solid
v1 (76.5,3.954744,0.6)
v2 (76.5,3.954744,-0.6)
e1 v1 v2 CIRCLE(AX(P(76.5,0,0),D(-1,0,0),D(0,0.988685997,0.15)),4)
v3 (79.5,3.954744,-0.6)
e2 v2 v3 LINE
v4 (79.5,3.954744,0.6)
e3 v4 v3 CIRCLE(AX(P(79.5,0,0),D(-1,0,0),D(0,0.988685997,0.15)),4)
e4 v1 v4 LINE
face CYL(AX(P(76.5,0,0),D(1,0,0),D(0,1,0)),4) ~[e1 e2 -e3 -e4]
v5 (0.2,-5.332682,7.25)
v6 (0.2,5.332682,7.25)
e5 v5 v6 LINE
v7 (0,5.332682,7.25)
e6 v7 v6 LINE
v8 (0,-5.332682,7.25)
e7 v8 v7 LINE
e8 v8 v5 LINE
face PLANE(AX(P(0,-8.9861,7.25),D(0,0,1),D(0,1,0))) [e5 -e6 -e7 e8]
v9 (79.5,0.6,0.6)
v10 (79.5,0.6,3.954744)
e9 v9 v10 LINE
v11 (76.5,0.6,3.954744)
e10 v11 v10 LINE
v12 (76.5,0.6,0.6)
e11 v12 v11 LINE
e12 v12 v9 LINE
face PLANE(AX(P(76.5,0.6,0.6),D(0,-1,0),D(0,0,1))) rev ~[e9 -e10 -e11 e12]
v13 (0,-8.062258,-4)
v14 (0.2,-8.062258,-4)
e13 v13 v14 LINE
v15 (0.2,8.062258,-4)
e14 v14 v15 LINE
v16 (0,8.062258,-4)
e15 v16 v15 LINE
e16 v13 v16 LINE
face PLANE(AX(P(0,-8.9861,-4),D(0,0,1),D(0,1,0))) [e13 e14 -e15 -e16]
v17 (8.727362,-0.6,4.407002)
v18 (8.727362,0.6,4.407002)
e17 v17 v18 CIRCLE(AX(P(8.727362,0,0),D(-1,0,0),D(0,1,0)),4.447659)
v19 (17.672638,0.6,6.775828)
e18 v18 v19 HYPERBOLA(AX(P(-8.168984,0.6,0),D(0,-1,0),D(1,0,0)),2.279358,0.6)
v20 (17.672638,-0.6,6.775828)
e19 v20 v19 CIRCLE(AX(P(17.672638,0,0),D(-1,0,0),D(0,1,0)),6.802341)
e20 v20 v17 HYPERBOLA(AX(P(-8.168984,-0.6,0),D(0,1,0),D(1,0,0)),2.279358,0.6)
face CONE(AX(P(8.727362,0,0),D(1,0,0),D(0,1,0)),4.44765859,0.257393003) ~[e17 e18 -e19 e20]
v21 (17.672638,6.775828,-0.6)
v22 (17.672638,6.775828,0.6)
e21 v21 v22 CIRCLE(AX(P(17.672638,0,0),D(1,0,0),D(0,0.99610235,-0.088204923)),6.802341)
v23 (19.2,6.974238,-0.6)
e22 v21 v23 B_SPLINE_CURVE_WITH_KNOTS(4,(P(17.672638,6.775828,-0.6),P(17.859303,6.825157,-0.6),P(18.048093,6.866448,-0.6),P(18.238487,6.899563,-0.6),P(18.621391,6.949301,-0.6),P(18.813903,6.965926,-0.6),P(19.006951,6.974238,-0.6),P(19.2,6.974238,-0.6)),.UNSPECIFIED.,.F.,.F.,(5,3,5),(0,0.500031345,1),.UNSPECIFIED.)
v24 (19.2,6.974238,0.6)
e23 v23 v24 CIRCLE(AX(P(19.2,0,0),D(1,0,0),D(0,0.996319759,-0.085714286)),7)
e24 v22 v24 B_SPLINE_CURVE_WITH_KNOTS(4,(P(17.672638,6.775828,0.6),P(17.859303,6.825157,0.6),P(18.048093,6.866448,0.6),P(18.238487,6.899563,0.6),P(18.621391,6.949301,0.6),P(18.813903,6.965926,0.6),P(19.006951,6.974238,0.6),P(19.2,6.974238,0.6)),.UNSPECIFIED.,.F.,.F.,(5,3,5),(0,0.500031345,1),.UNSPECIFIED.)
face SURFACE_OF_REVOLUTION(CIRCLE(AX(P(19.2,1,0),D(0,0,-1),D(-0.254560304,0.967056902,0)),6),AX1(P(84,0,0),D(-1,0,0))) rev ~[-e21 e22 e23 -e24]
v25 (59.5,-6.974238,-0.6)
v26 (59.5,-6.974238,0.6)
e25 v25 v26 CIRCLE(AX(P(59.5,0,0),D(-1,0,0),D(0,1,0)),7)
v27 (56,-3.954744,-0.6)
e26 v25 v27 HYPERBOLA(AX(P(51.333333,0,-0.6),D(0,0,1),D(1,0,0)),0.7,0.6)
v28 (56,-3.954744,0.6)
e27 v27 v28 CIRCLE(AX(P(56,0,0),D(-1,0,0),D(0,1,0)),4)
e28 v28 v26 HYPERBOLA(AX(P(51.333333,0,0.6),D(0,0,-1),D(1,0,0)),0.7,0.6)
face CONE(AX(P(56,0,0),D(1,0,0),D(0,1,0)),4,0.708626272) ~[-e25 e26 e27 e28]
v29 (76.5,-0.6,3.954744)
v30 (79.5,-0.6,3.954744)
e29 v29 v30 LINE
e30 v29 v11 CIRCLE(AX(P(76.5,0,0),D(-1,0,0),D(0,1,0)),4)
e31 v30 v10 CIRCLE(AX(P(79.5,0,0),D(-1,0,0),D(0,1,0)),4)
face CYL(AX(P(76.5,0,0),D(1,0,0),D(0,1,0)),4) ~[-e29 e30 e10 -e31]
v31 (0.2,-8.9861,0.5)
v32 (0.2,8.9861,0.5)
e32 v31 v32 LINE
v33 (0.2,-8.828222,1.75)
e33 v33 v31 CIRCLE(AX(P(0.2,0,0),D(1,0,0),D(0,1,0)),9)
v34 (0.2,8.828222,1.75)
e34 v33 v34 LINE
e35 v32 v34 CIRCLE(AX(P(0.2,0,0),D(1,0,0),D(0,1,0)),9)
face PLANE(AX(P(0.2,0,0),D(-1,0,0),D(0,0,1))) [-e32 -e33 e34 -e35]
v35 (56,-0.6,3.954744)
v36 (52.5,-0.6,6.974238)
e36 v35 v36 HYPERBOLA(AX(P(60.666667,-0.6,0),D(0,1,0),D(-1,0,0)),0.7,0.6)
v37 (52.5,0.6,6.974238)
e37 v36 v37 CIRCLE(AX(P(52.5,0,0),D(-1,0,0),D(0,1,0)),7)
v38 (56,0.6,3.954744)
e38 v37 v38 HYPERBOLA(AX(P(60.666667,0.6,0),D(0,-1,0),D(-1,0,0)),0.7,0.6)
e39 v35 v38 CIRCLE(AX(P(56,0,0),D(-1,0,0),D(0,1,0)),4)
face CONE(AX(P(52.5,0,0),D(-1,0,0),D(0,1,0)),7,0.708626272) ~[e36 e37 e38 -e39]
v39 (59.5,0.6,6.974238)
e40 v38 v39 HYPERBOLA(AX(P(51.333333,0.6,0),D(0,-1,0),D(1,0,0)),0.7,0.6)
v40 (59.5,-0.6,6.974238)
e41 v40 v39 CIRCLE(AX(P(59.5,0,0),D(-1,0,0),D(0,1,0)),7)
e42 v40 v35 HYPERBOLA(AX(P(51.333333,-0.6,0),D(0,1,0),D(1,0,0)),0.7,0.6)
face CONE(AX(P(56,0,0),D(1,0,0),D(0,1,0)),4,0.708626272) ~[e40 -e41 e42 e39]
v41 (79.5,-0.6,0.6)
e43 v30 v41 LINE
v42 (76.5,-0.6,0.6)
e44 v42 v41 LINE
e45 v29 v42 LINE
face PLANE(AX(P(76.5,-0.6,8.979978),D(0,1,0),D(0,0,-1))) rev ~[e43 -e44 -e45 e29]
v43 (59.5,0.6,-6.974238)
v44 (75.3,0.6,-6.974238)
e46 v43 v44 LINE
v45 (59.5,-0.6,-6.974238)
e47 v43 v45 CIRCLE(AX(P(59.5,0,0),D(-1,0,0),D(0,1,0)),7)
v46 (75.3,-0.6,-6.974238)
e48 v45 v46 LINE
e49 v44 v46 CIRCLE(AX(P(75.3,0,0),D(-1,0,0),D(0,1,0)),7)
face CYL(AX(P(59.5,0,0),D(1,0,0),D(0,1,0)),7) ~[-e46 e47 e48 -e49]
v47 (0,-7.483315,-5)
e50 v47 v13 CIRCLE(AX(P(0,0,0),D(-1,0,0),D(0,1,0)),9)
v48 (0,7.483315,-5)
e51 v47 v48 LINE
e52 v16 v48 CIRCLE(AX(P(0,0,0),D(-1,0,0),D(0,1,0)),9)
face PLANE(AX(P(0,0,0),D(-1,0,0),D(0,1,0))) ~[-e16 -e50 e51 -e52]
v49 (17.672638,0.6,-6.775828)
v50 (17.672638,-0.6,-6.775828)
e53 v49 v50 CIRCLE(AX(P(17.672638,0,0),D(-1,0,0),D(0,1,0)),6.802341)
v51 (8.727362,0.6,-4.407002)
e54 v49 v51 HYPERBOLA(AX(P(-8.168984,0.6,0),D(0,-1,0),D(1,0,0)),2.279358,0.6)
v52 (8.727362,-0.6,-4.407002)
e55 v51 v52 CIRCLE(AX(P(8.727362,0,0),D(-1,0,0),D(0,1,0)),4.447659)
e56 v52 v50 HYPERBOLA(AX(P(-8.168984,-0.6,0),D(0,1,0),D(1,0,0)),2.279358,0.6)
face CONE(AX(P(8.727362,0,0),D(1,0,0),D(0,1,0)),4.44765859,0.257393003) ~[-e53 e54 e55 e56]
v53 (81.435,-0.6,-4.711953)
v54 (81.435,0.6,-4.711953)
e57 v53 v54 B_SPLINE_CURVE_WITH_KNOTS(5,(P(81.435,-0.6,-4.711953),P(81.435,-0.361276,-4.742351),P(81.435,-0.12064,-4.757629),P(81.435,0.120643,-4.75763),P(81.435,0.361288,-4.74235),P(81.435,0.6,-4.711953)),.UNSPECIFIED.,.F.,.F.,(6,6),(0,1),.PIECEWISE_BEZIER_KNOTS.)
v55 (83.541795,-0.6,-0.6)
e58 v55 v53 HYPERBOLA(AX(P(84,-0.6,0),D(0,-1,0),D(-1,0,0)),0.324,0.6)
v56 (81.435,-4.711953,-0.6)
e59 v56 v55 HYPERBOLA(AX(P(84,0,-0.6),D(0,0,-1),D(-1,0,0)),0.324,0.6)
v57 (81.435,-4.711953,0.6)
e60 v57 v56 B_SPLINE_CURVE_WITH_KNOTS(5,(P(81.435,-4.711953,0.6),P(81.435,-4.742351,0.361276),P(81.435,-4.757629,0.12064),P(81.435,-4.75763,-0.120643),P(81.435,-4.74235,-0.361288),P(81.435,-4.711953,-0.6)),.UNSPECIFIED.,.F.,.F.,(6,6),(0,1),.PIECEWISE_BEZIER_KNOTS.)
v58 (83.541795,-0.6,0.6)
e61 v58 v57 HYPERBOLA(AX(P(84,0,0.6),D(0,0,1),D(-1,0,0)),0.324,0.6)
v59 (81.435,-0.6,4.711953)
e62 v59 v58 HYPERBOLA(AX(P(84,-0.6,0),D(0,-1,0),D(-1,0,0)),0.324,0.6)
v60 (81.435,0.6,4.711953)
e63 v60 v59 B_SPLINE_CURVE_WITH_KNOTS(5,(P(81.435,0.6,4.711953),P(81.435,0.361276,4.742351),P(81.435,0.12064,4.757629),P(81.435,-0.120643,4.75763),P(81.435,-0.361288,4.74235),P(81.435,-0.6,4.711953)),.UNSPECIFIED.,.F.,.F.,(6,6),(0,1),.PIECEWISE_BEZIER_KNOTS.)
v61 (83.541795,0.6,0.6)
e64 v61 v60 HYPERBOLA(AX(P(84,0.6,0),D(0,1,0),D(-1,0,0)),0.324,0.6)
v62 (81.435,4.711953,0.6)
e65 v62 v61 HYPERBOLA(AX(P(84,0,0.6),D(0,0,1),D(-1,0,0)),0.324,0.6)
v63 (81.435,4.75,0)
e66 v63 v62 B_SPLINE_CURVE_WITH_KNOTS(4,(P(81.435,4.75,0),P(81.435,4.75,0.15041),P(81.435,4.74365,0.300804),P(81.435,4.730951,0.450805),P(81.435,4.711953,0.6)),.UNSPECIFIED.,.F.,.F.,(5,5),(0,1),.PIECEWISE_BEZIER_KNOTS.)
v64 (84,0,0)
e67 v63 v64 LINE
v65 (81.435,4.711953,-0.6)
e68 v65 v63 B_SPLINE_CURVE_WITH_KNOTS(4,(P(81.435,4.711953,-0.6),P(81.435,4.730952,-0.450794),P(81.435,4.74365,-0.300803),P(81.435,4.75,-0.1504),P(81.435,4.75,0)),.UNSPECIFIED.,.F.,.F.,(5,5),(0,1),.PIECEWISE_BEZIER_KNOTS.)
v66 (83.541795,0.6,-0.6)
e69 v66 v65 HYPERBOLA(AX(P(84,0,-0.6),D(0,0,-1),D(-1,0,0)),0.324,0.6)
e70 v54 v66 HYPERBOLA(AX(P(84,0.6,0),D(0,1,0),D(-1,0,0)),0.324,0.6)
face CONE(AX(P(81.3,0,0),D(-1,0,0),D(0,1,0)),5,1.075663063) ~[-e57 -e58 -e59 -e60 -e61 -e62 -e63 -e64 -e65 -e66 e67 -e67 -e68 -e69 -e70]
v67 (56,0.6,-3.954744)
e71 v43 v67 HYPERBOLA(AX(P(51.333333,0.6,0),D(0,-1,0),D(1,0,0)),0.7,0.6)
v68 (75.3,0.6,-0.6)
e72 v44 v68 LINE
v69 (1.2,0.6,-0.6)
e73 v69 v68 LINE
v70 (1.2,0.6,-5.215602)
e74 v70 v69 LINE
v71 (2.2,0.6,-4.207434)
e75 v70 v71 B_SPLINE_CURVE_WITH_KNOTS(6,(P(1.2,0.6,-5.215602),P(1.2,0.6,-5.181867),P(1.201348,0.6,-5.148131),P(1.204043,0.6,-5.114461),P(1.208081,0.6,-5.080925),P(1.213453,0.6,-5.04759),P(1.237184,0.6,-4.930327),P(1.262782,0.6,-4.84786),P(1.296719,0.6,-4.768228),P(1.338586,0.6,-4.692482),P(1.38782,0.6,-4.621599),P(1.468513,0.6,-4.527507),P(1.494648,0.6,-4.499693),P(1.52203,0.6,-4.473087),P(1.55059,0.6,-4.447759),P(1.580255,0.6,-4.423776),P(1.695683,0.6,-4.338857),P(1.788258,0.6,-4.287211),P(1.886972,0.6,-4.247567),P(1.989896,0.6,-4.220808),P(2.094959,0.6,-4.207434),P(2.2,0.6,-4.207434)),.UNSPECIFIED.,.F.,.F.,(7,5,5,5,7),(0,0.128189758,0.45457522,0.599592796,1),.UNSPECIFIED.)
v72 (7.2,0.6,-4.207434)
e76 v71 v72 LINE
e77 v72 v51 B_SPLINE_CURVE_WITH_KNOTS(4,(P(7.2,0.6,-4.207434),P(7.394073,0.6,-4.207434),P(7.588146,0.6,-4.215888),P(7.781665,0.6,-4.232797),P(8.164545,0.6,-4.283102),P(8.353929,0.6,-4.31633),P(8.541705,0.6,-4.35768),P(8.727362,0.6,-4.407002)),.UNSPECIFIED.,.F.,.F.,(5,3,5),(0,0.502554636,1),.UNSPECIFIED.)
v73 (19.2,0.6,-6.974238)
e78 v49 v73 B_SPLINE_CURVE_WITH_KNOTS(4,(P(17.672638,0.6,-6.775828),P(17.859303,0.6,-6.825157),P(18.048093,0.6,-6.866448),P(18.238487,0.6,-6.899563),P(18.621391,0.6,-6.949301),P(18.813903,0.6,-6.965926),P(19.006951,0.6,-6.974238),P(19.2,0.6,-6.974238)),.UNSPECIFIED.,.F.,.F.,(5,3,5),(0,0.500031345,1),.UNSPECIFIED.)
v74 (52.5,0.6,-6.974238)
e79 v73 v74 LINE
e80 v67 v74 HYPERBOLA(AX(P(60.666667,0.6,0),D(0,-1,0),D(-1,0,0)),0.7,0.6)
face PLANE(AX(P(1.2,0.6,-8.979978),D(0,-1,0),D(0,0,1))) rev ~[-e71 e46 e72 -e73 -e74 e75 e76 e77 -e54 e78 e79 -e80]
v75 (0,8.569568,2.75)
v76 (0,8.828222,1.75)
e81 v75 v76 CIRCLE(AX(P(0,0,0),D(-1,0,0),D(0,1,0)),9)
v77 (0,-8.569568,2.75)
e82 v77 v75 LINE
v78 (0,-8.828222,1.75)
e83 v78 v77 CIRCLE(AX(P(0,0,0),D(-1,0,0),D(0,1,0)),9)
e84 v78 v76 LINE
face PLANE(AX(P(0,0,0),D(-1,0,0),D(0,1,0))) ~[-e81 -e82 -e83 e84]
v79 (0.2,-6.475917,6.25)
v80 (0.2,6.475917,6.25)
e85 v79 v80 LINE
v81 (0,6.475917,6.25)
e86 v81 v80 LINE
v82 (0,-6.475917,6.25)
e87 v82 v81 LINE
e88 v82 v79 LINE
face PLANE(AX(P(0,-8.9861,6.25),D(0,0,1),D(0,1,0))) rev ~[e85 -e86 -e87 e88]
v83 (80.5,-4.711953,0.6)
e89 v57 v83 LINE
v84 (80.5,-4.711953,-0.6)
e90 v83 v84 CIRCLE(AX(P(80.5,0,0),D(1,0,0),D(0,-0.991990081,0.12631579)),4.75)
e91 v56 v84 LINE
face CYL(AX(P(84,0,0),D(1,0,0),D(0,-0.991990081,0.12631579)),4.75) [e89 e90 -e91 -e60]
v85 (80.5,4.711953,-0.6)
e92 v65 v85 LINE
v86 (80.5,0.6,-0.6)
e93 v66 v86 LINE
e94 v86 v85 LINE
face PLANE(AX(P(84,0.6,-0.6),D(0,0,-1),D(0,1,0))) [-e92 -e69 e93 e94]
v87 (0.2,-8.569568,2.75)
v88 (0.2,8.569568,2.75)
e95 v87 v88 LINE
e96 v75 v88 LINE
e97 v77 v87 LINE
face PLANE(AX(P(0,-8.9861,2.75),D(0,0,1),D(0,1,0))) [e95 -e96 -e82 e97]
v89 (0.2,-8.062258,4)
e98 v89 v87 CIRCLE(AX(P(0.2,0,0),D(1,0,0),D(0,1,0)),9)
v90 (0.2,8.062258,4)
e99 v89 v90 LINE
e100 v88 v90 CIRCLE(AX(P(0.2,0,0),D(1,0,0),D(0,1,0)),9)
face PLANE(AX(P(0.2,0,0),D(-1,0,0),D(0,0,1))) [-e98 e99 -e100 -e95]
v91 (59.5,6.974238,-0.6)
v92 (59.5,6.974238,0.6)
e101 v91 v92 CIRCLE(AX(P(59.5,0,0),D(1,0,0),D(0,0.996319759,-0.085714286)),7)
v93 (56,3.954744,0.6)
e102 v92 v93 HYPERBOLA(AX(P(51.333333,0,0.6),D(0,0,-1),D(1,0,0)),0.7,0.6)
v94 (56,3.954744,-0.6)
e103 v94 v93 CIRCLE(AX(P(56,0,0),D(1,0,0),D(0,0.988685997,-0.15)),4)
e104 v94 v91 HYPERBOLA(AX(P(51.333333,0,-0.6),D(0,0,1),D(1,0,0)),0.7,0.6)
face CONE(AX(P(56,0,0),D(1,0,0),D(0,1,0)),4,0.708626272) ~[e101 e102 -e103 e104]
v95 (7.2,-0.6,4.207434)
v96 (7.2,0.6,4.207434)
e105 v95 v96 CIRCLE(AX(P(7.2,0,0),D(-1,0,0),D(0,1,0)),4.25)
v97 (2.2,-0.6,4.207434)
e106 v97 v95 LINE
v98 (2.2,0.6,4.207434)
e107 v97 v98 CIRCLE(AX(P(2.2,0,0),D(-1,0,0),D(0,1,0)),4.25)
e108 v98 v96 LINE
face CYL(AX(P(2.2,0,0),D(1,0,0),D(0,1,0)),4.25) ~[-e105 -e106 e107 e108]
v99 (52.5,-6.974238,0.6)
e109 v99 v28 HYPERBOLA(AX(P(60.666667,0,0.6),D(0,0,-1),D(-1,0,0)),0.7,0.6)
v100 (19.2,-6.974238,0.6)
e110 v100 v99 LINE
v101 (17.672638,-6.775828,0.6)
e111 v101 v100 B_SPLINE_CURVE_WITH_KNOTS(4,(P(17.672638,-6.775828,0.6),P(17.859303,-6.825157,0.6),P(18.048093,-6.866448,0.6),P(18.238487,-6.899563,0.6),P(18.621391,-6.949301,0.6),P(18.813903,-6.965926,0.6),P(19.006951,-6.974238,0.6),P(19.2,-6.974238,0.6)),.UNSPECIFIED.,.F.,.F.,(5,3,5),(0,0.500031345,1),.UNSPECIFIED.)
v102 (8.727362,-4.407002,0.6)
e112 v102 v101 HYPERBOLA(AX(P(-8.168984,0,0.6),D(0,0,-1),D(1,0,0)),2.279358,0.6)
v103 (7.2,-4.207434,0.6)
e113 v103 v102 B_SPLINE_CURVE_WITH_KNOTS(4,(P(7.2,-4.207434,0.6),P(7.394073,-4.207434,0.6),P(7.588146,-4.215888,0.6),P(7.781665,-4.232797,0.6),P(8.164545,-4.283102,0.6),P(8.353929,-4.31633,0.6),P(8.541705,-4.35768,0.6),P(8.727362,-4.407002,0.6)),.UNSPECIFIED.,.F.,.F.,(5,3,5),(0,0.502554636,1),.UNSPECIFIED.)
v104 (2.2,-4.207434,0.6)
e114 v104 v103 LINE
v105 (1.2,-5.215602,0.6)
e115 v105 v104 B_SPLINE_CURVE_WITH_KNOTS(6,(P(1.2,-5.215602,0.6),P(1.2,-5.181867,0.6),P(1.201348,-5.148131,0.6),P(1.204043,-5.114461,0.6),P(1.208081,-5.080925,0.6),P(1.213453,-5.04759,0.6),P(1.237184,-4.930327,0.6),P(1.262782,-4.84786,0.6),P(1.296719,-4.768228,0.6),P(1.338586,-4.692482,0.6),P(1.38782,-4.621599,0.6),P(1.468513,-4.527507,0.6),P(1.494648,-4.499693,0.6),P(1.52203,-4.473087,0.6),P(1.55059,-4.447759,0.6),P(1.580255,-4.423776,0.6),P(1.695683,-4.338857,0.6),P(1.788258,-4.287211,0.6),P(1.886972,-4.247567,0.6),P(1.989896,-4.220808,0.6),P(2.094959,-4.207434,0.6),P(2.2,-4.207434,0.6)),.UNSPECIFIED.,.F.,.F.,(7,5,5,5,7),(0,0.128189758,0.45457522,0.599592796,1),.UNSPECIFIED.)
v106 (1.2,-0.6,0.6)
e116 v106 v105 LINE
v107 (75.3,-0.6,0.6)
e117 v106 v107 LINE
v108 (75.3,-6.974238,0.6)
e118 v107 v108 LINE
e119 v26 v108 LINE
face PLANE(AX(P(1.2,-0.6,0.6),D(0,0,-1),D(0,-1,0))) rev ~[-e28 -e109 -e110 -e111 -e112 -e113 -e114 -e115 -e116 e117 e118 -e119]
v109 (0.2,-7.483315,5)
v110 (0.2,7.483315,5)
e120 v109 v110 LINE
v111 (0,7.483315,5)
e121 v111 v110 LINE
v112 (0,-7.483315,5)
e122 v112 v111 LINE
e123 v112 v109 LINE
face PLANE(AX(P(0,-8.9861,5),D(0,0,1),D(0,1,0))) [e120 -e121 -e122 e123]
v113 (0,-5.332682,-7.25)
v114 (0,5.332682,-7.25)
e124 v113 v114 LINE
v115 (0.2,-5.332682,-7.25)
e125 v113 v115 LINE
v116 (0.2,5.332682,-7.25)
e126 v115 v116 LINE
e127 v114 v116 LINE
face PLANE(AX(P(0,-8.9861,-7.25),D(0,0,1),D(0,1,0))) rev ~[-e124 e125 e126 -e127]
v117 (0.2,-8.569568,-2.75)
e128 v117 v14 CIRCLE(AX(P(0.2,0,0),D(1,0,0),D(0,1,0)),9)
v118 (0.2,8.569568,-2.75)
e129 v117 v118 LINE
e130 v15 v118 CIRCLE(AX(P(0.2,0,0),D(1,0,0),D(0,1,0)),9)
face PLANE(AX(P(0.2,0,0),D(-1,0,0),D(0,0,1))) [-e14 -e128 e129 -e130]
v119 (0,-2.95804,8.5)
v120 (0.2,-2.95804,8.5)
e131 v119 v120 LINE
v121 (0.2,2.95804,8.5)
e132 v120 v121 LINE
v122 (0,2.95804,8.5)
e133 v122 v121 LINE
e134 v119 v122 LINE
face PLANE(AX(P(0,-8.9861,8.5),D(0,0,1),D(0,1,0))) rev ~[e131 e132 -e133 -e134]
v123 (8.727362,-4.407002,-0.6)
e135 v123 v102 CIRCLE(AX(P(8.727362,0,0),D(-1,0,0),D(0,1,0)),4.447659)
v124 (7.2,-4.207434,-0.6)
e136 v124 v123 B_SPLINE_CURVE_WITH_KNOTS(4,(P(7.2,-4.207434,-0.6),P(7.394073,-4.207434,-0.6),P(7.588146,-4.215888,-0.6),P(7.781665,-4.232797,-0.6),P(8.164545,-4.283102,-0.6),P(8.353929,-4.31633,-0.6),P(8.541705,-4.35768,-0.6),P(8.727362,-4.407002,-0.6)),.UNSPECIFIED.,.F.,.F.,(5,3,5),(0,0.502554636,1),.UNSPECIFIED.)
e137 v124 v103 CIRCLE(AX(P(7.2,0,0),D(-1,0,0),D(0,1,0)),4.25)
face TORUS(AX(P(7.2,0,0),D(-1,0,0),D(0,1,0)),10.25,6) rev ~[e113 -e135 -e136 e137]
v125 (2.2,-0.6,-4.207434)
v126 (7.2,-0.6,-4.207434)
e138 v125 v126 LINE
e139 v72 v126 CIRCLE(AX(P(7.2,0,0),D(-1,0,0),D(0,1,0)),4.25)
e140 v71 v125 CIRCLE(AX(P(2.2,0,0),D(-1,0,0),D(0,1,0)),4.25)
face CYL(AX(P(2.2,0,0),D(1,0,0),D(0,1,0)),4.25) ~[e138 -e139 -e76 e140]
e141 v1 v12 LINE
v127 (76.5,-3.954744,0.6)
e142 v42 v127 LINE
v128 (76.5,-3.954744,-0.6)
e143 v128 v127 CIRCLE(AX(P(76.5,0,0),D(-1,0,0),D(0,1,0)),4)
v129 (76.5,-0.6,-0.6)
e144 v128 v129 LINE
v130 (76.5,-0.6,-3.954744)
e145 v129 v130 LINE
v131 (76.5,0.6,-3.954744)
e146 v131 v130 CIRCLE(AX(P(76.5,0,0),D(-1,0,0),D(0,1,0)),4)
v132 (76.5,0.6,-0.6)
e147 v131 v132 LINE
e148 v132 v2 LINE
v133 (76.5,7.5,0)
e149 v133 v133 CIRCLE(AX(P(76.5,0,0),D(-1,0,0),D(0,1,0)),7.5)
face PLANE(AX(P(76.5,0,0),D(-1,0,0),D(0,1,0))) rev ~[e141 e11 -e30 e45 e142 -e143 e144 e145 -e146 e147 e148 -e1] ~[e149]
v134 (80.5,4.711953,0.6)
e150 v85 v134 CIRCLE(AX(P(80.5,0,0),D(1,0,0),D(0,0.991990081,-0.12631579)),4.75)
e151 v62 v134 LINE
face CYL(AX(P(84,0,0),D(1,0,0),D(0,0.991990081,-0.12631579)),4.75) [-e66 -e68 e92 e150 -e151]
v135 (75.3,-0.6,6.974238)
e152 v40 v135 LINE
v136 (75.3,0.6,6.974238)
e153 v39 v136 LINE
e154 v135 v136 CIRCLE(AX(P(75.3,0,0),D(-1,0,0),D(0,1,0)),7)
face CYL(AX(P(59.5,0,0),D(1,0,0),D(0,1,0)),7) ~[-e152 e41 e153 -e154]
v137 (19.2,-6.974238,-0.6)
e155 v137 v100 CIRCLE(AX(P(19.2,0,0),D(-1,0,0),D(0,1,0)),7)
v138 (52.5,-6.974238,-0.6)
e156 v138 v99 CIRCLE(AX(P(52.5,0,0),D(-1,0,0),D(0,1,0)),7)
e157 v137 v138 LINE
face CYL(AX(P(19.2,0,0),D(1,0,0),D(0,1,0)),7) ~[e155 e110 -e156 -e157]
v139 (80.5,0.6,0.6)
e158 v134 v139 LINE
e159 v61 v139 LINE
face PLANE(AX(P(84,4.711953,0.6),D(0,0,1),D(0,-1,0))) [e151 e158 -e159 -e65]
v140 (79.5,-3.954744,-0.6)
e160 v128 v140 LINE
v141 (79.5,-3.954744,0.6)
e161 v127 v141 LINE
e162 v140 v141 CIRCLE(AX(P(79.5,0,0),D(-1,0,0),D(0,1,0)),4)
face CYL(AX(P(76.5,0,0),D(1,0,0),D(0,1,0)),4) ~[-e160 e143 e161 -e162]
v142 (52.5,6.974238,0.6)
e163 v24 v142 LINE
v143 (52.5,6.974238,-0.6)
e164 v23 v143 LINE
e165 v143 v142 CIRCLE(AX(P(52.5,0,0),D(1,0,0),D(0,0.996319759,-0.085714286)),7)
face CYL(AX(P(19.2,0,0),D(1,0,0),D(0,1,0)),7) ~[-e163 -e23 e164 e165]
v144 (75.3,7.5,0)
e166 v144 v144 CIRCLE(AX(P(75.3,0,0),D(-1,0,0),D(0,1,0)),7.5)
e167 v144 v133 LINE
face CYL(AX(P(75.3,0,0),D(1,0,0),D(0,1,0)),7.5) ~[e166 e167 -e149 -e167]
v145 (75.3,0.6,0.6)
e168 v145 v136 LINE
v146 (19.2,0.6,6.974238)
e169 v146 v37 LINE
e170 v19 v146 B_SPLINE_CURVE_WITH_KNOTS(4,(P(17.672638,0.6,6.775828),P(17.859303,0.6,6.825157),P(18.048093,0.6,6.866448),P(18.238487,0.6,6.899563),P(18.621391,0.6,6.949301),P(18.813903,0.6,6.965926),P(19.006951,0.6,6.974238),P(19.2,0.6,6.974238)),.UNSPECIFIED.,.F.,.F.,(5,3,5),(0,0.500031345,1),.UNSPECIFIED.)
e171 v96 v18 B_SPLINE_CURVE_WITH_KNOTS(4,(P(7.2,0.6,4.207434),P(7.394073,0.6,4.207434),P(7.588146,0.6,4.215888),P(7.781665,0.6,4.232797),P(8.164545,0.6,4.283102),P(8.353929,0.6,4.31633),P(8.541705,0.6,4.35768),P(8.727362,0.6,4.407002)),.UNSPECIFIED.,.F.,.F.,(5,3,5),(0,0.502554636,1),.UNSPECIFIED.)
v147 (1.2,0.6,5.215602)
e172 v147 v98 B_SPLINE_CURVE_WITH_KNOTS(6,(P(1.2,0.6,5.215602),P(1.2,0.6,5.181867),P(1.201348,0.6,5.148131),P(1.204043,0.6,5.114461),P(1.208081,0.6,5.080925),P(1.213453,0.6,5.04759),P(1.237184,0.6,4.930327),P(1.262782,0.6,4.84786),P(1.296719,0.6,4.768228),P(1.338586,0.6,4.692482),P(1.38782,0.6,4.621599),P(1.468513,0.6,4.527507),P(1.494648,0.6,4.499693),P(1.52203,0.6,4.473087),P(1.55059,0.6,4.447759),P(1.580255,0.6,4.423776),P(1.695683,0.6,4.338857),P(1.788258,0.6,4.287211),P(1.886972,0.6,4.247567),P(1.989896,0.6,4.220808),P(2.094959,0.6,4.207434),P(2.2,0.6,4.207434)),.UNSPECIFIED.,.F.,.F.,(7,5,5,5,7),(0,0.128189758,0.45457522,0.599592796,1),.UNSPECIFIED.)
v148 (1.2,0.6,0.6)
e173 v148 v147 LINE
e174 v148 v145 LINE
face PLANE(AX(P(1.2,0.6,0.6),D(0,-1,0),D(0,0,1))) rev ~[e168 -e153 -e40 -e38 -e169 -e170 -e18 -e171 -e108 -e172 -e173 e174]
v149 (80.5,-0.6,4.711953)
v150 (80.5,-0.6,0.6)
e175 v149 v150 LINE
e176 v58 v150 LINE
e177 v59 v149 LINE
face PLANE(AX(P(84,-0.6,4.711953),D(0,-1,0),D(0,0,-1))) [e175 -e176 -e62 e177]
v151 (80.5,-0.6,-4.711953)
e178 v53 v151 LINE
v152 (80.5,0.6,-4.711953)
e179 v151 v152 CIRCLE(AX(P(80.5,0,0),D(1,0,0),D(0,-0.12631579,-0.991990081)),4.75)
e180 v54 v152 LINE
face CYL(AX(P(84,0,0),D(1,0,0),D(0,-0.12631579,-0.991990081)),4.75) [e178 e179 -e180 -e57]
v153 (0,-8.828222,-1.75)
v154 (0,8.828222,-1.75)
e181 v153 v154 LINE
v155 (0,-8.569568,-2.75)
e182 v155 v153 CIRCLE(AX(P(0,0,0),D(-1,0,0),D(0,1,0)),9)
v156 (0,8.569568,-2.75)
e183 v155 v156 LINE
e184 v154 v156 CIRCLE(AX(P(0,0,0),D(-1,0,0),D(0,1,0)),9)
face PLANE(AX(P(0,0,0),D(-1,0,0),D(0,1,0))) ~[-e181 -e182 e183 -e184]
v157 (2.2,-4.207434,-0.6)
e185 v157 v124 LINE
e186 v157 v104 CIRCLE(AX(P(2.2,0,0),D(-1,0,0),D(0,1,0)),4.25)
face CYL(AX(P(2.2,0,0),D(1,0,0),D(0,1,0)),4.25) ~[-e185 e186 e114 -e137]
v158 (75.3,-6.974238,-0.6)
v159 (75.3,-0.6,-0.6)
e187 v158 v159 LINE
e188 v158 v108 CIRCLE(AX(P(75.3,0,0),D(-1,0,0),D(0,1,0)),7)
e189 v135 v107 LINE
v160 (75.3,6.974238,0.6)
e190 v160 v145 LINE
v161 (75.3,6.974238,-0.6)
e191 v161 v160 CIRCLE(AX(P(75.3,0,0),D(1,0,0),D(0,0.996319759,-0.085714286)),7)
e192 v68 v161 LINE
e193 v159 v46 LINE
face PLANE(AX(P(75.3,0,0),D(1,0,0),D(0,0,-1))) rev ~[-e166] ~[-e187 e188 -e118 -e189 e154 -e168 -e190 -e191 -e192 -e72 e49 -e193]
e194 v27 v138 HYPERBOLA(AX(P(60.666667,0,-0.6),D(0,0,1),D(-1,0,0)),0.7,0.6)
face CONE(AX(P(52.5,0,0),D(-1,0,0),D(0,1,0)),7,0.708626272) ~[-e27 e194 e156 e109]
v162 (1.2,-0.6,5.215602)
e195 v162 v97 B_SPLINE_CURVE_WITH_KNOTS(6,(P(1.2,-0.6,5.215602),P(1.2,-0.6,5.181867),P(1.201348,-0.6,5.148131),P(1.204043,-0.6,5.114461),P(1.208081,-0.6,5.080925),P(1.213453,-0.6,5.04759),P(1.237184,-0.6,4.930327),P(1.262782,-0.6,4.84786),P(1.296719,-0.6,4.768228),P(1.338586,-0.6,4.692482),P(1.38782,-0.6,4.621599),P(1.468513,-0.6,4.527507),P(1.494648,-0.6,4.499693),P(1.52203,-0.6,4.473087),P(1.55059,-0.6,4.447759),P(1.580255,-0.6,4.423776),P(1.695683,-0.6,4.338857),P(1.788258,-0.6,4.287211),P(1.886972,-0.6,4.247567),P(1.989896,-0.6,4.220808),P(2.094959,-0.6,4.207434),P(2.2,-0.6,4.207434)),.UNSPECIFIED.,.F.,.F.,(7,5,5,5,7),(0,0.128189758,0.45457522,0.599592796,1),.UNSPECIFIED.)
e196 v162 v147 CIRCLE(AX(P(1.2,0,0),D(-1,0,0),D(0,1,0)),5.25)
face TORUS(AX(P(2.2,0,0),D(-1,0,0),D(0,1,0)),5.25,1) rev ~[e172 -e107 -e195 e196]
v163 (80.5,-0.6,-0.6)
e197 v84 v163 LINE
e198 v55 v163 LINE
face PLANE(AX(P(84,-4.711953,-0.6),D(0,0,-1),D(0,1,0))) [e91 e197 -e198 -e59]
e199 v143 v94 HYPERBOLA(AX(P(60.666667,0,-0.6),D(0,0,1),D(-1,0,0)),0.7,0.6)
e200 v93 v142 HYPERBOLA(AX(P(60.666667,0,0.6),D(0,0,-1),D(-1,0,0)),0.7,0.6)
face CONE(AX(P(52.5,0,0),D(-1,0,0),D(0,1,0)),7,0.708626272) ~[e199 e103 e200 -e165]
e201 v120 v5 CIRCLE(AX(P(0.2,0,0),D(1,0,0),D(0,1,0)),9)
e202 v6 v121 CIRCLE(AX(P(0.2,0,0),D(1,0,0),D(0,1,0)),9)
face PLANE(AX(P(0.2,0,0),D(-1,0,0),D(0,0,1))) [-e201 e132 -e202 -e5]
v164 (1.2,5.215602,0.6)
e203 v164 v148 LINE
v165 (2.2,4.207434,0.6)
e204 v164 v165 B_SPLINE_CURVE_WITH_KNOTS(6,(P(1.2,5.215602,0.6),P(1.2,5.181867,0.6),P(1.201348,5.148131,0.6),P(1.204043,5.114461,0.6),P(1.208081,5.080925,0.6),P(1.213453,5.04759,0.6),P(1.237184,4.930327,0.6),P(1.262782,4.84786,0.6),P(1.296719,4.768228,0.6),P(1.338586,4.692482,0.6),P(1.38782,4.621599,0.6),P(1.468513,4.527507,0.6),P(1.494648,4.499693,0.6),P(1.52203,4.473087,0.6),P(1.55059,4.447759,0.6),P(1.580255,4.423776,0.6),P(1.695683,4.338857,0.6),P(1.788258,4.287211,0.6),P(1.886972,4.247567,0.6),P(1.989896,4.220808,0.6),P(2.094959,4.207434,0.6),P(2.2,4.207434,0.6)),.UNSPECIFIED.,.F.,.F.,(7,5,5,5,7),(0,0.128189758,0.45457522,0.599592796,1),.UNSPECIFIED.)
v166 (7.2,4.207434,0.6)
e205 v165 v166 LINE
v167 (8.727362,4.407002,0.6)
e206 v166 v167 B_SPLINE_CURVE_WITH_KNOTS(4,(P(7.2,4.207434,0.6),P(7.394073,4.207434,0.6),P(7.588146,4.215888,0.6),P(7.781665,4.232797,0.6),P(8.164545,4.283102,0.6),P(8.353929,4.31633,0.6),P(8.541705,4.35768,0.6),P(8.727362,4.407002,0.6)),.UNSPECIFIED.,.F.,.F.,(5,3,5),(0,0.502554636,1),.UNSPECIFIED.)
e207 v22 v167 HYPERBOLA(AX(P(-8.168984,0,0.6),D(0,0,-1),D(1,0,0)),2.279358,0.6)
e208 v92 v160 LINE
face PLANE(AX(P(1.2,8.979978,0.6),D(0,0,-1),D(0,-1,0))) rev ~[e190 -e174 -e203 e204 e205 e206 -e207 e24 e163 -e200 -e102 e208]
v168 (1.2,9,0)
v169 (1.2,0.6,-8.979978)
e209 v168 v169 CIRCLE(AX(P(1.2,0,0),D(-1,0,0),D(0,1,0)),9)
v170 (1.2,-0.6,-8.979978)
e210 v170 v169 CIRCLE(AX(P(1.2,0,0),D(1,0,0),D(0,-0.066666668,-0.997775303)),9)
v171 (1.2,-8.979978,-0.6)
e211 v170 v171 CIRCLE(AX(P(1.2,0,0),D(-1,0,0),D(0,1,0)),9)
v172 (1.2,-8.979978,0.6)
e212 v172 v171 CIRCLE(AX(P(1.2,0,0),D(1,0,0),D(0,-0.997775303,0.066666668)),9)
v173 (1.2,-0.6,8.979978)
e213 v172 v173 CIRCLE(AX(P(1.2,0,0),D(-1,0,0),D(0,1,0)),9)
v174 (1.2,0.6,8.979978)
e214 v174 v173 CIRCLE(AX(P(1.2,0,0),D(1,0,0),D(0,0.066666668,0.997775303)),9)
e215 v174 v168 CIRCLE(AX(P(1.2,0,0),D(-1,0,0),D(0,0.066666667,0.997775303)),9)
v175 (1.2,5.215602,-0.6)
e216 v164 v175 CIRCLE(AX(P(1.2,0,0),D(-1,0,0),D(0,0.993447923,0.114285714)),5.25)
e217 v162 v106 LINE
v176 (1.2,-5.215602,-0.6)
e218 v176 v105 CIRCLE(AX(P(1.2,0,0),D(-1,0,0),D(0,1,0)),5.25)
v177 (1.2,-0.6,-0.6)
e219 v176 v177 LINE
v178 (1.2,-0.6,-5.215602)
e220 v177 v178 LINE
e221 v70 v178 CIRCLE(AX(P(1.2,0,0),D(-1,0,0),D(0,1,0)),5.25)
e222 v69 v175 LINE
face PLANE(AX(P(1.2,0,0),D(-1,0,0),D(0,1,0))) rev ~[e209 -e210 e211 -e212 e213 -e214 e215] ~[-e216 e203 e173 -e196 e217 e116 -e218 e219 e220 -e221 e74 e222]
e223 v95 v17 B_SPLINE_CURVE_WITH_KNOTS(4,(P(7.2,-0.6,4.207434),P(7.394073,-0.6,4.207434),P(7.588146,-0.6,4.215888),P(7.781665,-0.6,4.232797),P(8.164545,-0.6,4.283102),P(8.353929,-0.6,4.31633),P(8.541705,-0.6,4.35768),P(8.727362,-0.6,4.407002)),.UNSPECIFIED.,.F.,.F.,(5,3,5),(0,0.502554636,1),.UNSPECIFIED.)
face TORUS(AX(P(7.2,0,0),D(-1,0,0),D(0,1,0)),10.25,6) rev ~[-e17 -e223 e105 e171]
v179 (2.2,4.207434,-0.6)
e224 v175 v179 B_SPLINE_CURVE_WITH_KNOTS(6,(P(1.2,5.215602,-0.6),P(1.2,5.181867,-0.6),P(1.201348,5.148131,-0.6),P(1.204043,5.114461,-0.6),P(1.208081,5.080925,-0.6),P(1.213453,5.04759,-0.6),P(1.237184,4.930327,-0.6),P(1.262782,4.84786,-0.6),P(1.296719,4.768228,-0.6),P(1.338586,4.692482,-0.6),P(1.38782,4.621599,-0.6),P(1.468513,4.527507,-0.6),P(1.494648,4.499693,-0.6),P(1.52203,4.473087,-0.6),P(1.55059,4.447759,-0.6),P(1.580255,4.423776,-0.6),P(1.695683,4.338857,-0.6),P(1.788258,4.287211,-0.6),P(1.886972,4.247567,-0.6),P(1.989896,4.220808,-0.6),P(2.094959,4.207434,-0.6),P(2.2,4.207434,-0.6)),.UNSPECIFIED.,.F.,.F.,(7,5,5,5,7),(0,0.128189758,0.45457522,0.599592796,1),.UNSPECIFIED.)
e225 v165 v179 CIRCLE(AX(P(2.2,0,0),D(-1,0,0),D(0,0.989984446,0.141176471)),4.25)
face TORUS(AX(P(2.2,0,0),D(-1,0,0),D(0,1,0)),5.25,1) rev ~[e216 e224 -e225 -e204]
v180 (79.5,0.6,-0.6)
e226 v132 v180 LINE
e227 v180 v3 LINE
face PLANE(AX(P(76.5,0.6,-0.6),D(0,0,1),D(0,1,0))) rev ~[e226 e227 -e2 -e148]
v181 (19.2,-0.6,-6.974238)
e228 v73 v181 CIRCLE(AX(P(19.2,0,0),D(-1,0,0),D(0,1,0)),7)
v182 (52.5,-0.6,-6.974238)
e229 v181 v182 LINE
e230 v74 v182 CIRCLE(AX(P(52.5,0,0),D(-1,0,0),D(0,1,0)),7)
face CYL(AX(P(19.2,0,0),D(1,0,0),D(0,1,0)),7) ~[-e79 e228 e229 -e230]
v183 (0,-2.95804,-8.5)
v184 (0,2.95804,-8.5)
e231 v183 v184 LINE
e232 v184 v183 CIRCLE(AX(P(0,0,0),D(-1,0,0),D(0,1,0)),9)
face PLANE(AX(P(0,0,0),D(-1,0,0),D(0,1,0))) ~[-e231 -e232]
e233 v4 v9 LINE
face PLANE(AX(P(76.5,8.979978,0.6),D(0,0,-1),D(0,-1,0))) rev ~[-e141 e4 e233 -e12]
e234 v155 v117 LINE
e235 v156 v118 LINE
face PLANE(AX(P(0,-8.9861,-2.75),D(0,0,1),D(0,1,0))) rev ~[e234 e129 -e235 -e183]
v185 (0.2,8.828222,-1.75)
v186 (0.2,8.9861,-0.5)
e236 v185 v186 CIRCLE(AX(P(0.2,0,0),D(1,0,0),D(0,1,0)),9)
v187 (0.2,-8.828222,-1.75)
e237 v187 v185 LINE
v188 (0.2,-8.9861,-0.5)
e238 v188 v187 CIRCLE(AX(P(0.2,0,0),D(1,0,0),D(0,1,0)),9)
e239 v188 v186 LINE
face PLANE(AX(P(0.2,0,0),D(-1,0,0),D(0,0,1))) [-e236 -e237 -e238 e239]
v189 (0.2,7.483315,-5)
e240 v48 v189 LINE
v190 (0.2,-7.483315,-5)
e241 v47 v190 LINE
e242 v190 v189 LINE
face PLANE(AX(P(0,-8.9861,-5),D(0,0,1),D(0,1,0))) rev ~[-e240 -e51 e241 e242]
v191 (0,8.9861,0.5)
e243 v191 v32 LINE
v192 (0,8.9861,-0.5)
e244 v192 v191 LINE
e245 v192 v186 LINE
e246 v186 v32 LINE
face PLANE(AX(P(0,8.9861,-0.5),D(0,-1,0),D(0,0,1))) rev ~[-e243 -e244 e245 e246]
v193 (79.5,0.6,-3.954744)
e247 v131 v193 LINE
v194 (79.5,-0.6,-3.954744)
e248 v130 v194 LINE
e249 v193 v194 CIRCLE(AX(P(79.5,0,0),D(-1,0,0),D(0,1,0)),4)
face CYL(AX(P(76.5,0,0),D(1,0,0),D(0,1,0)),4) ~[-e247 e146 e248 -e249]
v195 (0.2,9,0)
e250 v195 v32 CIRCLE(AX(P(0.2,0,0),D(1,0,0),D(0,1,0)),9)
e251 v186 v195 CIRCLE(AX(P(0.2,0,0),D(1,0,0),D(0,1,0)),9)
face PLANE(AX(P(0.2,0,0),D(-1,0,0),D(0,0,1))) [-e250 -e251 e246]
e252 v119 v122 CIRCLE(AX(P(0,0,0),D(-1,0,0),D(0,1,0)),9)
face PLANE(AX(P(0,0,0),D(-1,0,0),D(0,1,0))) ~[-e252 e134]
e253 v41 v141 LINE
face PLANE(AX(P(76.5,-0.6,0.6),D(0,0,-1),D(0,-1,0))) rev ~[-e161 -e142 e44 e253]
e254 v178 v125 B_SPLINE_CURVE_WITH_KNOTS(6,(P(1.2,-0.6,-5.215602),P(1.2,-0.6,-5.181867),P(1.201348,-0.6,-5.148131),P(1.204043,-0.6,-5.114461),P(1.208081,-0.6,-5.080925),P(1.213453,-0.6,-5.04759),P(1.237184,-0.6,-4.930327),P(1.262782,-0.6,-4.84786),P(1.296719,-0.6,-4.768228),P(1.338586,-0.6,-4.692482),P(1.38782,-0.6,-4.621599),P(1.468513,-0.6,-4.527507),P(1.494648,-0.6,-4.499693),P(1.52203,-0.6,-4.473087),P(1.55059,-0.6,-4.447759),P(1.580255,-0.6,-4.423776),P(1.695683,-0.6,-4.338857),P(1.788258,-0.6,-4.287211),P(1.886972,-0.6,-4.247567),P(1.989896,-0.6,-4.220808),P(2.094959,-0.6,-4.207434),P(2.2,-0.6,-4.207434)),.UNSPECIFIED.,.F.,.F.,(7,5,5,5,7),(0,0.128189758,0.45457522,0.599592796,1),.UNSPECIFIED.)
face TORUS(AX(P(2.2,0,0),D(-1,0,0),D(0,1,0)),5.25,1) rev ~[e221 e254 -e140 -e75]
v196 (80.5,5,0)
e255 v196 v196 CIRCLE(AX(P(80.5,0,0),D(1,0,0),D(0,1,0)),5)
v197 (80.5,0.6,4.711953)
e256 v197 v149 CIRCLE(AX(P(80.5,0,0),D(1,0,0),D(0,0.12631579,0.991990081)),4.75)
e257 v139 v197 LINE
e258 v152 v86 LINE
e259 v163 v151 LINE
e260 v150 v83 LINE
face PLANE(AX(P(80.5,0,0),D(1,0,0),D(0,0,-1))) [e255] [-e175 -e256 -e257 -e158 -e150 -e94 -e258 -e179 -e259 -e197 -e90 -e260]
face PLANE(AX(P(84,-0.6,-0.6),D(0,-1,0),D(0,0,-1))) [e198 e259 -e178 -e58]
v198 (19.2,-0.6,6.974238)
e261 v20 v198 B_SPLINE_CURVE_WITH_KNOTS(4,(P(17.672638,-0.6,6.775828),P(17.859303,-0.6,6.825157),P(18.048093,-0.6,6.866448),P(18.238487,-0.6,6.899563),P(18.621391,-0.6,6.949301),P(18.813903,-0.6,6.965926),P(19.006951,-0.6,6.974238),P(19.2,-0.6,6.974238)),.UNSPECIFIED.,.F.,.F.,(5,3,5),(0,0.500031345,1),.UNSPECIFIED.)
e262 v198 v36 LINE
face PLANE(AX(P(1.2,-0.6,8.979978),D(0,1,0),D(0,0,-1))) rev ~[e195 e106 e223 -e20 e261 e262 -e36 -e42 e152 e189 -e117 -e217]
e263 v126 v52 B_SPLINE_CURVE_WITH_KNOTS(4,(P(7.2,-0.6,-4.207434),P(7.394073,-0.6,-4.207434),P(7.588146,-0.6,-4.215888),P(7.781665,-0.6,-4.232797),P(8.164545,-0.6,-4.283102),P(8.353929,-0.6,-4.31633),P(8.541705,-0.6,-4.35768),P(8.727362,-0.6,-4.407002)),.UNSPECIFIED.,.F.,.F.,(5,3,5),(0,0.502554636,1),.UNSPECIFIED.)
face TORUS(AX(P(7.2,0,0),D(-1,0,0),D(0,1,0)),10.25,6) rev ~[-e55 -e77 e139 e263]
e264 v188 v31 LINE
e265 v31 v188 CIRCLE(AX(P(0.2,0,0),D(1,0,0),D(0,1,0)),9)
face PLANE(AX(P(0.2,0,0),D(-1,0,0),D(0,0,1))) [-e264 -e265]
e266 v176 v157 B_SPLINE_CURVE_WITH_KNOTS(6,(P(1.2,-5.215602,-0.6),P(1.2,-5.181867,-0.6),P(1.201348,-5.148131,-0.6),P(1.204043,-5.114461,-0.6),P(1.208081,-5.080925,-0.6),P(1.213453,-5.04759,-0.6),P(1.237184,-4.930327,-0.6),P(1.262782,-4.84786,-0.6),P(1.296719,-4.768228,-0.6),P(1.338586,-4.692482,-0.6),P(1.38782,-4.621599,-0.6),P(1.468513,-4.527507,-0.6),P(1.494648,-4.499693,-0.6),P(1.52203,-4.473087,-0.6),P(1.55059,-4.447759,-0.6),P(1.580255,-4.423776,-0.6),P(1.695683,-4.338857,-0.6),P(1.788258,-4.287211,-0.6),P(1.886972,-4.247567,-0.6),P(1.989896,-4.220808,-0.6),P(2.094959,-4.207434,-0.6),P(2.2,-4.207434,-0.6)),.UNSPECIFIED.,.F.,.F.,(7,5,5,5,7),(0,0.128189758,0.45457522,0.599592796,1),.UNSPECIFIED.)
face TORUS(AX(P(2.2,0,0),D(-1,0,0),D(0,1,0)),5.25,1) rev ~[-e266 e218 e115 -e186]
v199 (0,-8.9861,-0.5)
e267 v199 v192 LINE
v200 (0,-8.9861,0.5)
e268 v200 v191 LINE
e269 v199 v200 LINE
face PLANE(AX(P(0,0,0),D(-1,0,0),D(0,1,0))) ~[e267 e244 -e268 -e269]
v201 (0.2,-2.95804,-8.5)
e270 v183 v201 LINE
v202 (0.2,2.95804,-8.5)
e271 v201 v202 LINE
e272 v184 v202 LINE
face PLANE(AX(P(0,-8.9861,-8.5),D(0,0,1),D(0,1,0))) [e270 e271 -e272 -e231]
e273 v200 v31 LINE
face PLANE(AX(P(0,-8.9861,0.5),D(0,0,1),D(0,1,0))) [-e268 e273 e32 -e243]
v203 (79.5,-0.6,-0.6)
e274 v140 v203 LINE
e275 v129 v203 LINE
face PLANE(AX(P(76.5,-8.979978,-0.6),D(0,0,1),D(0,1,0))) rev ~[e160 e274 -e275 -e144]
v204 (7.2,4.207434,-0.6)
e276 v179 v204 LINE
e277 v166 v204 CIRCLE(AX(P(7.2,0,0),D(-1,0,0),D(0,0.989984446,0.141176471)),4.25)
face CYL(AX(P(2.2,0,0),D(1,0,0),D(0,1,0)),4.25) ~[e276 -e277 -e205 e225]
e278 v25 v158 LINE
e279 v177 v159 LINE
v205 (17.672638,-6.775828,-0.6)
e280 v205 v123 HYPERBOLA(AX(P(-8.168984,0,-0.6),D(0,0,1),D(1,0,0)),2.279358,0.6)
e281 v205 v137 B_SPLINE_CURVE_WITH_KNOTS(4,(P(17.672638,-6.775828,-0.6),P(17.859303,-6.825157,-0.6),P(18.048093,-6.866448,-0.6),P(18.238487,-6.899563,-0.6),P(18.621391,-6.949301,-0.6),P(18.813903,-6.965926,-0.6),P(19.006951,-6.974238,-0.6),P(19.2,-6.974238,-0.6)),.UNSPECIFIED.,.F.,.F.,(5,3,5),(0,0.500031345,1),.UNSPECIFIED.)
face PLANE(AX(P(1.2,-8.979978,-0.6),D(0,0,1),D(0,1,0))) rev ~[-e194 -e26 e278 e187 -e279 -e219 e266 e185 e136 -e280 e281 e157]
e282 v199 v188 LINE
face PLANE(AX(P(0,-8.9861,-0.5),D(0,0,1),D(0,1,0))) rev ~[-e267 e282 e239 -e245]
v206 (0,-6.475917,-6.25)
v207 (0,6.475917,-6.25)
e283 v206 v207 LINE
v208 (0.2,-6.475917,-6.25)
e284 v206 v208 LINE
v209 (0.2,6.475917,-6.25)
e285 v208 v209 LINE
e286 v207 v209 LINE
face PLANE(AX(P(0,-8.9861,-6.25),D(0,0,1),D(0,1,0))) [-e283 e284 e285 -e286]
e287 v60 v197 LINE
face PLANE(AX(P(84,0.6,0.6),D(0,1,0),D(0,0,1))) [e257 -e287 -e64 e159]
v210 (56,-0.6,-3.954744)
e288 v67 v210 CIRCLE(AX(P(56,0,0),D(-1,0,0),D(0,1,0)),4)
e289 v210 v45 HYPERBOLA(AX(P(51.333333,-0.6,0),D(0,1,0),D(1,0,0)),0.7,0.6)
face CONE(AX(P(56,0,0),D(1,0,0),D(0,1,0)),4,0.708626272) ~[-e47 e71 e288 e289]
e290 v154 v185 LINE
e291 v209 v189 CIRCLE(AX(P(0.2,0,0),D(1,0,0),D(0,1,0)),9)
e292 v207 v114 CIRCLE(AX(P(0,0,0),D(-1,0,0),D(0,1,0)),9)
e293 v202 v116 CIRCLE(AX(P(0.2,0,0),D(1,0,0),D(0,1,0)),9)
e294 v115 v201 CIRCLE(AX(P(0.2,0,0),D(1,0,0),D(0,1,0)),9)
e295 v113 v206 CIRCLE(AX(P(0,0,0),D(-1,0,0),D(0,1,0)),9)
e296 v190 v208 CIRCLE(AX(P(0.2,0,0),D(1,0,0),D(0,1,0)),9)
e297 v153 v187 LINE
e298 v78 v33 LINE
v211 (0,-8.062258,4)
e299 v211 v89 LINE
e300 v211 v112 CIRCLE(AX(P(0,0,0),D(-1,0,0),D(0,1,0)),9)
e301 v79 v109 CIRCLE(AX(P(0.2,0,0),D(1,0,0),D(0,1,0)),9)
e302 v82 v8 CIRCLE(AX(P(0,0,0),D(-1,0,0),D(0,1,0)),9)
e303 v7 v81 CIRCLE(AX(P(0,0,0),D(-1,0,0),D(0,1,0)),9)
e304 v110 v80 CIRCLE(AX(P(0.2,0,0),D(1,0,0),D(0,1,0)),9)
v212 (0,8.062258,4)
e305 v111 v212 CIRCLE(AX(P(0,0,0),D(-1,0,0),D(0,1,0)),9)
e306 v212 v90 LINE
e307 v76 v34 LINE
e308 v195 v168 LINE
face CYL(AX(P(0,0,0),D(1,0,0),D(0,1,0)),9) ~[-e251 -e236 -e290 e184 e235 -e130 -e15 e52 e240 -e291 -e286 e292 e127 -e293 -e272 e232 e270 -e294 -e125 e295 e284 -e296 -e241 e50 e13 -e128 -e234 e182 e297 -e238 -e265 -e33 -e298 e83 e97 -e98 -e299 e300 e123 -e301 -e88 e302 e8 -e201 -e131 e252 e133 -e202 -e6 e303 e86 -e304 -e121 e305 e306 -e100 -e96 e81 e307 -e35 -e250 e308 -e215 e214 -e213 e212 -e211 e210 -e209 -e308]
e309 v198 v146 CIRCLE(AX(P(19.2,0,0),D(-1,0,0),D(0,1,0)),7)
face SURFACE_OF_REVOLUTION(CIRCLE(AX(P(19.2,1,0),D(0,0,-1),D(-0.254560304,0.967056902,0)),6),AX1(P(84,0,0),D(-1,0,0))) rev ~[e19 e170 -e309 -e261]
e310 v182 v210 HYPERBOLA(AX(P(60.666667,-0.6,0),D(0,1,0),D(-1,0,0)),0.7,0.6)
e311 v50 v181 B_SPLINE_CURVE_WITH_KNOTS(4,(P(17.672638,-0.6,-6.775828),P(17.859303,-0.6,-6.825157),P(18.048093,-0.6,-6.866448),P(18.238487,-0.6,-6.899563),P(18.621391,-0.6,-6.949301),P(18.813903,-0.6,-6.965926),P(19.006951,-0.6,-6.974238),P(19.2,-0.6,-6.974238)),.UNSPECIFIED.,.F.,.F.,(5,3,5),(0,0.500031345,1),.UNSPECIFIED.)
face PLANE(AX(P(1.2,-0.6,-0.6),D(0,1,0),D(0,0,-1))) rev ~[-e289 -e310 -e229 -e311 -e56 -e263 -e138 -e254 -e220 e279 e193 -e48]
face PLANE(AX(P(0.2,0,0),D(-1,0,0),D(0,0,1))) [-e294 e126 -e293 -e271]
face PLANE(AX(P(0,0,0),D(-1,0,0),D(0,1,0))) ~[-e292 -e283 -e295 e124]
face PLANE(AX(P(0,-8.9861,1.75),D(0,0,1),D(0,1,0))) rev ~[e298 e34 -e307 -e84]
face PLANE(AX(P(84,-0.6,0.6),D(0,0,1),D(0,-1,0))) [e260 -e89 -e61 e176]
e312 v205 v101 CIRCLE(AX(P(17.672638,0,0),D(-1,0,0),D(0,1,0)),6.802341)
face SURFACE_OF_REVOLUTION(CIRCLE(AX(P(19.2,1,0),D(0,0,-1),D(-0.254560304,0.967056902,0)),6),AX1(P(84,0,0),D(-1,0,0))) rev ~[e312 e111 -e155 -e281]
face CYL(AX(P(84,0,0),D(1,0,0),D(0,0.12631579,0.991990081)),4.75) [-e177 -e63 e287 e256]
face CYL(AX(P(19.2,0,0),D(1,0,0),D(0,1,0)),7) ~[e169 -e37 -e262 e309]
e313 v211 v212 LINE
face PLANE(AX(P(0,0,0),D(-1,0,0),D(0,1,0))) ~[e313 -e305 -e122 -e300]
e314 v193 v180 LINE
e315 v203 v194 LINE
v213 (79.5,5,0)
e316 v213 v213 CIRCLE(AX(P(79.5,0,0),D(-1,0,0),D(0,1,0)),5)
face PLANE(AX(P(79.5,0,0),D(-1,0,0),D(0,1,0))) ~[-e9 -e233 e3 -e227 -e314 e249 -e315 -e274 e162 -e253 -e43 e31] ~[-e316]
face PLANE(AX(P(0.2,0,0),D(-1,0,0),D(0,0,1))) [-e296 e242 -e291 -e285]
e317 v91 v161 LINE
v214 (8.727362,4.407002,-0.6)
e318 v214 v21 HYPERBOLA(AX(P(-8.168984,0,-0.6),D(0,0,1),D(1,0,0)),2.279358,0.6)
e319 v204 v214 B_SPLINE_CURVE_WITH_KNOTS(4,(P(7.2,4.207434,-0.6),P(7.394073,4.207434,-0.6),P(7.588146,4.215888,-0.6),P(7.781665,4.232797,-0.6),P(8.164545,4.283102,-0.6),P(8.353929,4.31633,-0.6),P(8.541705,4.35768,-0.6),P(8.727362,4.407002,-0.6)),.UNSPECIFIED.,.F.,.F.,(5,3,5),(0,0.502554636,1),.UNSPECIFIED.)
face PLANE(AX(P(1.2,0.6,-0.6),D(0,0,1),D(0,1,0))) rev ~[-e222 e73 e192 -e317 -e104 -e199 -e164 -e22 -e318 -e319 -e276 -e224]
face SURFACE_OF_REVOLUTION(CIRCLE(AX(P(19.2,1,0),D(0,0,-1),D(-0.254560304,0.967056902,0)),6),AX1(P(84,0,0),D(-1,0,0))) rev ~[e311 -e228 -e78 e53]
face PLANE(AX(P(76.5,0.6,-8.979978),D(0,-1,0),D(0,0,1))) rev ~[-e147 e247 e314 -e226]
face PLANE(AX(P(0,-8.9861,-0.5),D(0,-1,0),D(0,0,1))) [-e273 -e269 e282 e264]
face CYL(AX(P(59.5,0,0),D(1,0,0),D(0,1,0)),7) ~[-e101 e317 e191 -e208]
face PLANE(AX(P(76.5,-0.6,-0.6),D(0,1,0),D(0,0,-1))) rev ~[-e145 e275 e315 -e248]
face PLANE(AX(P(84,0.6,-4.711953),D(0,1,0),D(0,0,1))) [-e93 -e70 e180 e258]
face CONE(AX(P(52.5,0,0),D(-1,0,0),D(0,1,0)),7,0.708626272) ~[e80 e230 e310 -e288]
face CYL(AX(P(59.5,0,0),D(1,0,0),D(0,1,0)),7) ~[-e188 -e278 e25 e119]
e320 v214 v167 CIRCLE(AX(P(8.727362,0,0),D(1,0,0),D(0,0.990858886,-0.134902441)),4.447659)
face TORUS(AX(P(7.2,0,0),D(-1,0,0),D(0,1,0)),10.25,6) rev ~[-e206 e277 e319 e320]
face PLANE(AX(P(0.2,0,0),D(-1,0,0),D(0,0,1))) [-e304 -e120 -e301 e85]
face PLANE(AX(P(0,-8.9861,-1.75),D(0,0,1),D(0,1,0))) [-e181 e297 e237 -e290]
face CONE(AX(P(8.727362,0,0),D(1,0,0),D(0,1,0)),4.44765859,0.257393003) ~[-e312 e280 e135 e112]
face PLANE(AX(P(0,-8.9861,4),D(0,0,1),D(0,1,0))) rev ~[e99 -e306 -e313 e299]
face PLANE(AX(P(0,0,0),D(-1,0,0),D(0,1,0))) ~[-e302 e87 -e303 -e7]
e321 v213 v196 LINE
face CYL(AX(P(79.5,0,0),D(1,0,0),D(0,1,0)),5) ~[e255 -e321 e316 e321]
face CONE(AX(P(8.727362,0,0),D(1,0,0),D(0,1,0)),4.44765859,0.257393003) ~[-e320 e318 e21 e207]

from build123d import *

# Parameters (mm, degrees)
SKETCH2_OUTSIDE_W   = 37.554
SKETCH2_OUTSIDE_H   = 37.554
CUT_EXTRUDE1_DEPTH  = 74.1
SKETCH3_OUTSIDE_W   = 37.554
SKETCH3_OUTSIDE_H   = 37.554
SKETCH3_OUTSIDE_W_2 = 1
SKETCH3_OUTSIDE_H_2 = 17.972200756
CUT_EXTRUDE2_DEPTH  = 0.2
SKETCH4_OUTSIDE_W   = 37.554
SKETCH4_OUTSIDE_H   = 37.554
CUT_EXTRUDE3_DEPTH  = 3
SKETCH5_OUTSIDE_W   = 37.554
SKETCH5_OUTSIDE_H   = 37.554
CUT_EXTRUDE4_DEPTH  = 3.5


with BuildPart() as part:
    # Sketch1 → Revolve1 (revolve)
    with BuildSketch(Plane.XY):
        with BuildLine():
            Line((0, 0), (0, 9))
            Line((0, 9), (1.2, 9))
            Line((1.2, 9), (1.2, 5.25))
            ThreePointArc((1.2, 5.25), (1.492893219, 4.542893219), (2.2, 4.25))
            Line((2.2, 4.25), (7.2, 4.25))
            ThreePointArc((7.2, 4.25), (7.970049199, 4.299619825), (8.72736183, 4.44765859))
            Line((8.72736183, 4.44765859), (17.67263817, 6.80234141))
            ThreePointArc((17.67263817, 6.80234141), (18.429950801, 6.950380175), (19.2, 7))
            Line((19.2, 7), (52.5, 7))
            Line((52.5, 7), (56, 4))
            Line((56, 4), (59.5, 7))
            Line((59.5, 7), (75.3, 7))
            Line((75.3, 7), (75.3, 7.5))
            Line((75.3, 7.5), (76.5, 7.5))
            Line((76.5, 7.5), (76.5, 4))
            Line((76.5, 4), (79.5, 4))
            Line((79.5, 4), (79.5, 5))
            Line((79.5, 5), (81.3, 5))
            Line((81.3, 5), (84, 0))
            Line((84, 0), (0, 0))
        make_face()
    revolve(axis=Axis((84, 0, 0), (-1, 0, 0)))

    # Sketch2 outside → Cut-Extrude1 (cut)
    with BuildSketch(Plane(origin=(1.2, 0, 0), x_dir=(0, 0, -1), z_dir=(1, 0, 0))):
        Rectangle(SKETCH2_OUTSIDE_W, SKETCH2_OUTSIDE_H)
        with BuildLine():
            Line((-0.6, 8.979977728), (-0.6, 0.6))
            Line((-0.6, 0.6), (-8.979977728, 0.6))
            ThreePointArc((-8.979977728, 0.6), (-9, 0), (-8.979977728, -0.6))
            Line((-8.979977728, -0.6), (-0.6, -0.6))
            Line((-0.6, -0.6), (-0.6, -8.979977728))
            ThreePointArc((-0.6, -8.979977728), (0, -9), (0.6, -8.979977728))
            Line((0.6, -8.979977728), (0.6, -0.6))
            Line((0.6, -0.6), (8.979977728, -0.6))
            ThreePointArc((8.979977728, -0.6), (9, 0), (8.979977728, 0.6))
            Line((8.979977728, 0.6), (0.6, 0.6))
            Line((0.6, 0.6), (0.6, 8.979977728))
            ThreePointArc((0.6, 8.979977728), (0, 9), (-0.6, 8.979977728))
        make_face(mode=Mode.SUBTRACT)
    extrude(amount=CUT_EXTRUDE1_DEPTH, mode=Mode.SUBTRACT)

    # Sketch3 outside → Cut-Extrude2 (cut)
    with BuildSketch(Plane.ZY):
        Rectangle(SKETCH3_OUTSIDE_W, SKETCH3_OUTSIDE_H)
        with Locations((2.25, 0)):
            Rectangle(SKETCH3_OUTSIDE_W_2, SKETCH3_OUTSIDE_H_2, mode=Mode.SUBTRACT)
        Rectangle(SKETCH3_OUTSIDE_W_2, SKETCH3_OUTSIDE_H_2, mode=Mode.SUBTRACT)
        with Locations((4.5, 0)):
            Rectangle(SKETCH3_OUTSIDE_W_2, SKETCH3_OUTSIDE_H_2, mode=Mode.SUBTRACT)
        with Locations((6.75, 0)):
            Rectangle(SKETCH3_OUTSIDE_W_2, SKETCH3_OUTSIDE_H_2, mode=Mode.SUBTRACT)
        with Locations((9, 0)):
            Rectangle(SKETCH3_OUTSIDE_W_2, SKETCH3_OUTSIDE_H_2, mode=Mode.SUBTRACT)
        with Locations((11.25, 0)):
            Rectangle(SKETCH3_OUTSIDE_W_2, SKETCH3_OUTSIDE_H_2, mode=Mode.SUBTRACT)
        with Locations((13.5, 0)):
            Rectangle(SKETCH3_OUTSIDE_W_2, SKETCH3_OUTSIDE_H_2, mode=Mode.SUBTRACT)
        with Locations((-2.25, 0)):
            Rectangle(SKETCH3_OUTSIDE_W_2, SKETCH3_OUTSIDE_H_2, mode=Mode.SUBTRACT)
        with Locations((-4.5, 0)):
            Rectangle(SKETCH3_OUTSIDE_W_2, SKETCH3_OUTSIDE_H_2, mode=Mode.SUBTRACT)
        with Locations((-6.75, 0)):
            Rectangle(SKETCH3_OUTSIDE_W_2, SKETCH3_OUTSIDE_H_2, mode=Mode.SUBTRACT)
        with Locations((-9, 0)):
            Rectangle(SKETCH3_OUTSIDE_W_2, SKETCH3_OUTSIDE_H_2, mode=Mode.SUBTRACT)
        with Locations((-11.25, 0)):
            Rectangle(SKETCH3_OUTSIDE_W_2, SKETCH3_OUTSIDE_H_2, mode=Mode.SUBTRACT)
        with Locations((-13.5, 0)):
            Rectangle(SKETCH3_OUTSIDE_W_2, SKETCH3_OUTSIDE_H_2, mode=Mode.SUBTRACT)
    extrude(amount=-CUT_EXTRUDE2_DEPTH, mode=Mode.SUBTRACT)

    # Sketch4 outside → Cut-Extrude3 (cut)
    with BuildSketch(Plane(origin=(76.5, 0, 0), x_dir=(0, 0, -1), z_dir=(1, 0, 0))):
        Rectangle(SKETCH4_OUTSIDE_W, SKETCH4_OUTSIDE_H)
        with BuildLine():
            Line((0.6, 0.6), (0.6, 8.979977728))
            ThreePointArc((0.6, 8.979977728), (0, 9), (-0.6, 8.979977728))
            Line((-0.6, 8.979977728), (-0.6, 0.6))
            Line((-0.6, 0.6), (-8.979977728, 0.6))
            ThreePointArc((-8.979977728, 0.6), (-9, 0), (-8.979977728, -0.6))
            Line((-8.979977728, -0.6), (-0.6, -0.6))
            Line((-0.6, -0.6), (-0.6, -8.979977728))
            ThreePointArc((-0.6, -8.979977728), (0, -9), (0.6, -8.979977728))
            Line((0.6, -8.979977728), (0.6, -0.6))
            Line((0.6, -0.6), (8.979977728, -0.6))
            ThreePointArc((8.979977728, -0.6), (9, 0), (8.979977728, 0.6))
            Line((8.979977728, 0.6), (0.6, 0.6))
        make_face(mode=Mode.SUBTRACT)
    extrude(amount=CUT_EXTRUDE3_DEPTH, mode=Mode.SUBTRACT)

    # Sketch5 outside → Cut-Extrude4 (cut)
    with BuildSketch(Plane(origin=(84, 0, 0), x_dir=(0, 0, -1), z_dir=(1, 0, 0))):
        Rectangle(SKETCH5_OUTSIDE_W, SKETCH5_OUTSIDE_H)
        with BuildLine():
            Line((0.6, 0.6), (0.6, 4.711952886))
            ThreePointArc((0.6, 4.711952886), (0, 4.75), (-0.6, 4.711952886))
            Line((-0.6, 4.711952886), (-0.6, 0.6))
            Line((-0.6, 0.6), (-4.711952886, 0.6))
            ThreePointArc((-4.711952886, 0.6), (-4.75, 0), (-4.711952886, -0.6))
            Line((-4.711952886, -0.6), (-0.6, -0.6))
            Line((-0.6, -0.6), (-0.6, -4.711952886))
            ThreePointArc((-0.6, -4.711952886), (0, -4.75), (0.6, -4.711952886))
            Line((0.6, -4.711952886), (0.6, -0.6))
            Line((0.6, -0.6), (4.711952886, -0.6))
            ThreePointArc((4.711952886, -0.6), (4.75, 0), (4.711952886, 0.6))
            Line((4.711952886, 0.6), (0.6, 0.6))
        make_face(mode=Mode.SUBTRACT)
    extrude(amount=-CUT_EXTRUDE4_DEPTH, mode=Mode.SUBTRACT)


solid = part.part
